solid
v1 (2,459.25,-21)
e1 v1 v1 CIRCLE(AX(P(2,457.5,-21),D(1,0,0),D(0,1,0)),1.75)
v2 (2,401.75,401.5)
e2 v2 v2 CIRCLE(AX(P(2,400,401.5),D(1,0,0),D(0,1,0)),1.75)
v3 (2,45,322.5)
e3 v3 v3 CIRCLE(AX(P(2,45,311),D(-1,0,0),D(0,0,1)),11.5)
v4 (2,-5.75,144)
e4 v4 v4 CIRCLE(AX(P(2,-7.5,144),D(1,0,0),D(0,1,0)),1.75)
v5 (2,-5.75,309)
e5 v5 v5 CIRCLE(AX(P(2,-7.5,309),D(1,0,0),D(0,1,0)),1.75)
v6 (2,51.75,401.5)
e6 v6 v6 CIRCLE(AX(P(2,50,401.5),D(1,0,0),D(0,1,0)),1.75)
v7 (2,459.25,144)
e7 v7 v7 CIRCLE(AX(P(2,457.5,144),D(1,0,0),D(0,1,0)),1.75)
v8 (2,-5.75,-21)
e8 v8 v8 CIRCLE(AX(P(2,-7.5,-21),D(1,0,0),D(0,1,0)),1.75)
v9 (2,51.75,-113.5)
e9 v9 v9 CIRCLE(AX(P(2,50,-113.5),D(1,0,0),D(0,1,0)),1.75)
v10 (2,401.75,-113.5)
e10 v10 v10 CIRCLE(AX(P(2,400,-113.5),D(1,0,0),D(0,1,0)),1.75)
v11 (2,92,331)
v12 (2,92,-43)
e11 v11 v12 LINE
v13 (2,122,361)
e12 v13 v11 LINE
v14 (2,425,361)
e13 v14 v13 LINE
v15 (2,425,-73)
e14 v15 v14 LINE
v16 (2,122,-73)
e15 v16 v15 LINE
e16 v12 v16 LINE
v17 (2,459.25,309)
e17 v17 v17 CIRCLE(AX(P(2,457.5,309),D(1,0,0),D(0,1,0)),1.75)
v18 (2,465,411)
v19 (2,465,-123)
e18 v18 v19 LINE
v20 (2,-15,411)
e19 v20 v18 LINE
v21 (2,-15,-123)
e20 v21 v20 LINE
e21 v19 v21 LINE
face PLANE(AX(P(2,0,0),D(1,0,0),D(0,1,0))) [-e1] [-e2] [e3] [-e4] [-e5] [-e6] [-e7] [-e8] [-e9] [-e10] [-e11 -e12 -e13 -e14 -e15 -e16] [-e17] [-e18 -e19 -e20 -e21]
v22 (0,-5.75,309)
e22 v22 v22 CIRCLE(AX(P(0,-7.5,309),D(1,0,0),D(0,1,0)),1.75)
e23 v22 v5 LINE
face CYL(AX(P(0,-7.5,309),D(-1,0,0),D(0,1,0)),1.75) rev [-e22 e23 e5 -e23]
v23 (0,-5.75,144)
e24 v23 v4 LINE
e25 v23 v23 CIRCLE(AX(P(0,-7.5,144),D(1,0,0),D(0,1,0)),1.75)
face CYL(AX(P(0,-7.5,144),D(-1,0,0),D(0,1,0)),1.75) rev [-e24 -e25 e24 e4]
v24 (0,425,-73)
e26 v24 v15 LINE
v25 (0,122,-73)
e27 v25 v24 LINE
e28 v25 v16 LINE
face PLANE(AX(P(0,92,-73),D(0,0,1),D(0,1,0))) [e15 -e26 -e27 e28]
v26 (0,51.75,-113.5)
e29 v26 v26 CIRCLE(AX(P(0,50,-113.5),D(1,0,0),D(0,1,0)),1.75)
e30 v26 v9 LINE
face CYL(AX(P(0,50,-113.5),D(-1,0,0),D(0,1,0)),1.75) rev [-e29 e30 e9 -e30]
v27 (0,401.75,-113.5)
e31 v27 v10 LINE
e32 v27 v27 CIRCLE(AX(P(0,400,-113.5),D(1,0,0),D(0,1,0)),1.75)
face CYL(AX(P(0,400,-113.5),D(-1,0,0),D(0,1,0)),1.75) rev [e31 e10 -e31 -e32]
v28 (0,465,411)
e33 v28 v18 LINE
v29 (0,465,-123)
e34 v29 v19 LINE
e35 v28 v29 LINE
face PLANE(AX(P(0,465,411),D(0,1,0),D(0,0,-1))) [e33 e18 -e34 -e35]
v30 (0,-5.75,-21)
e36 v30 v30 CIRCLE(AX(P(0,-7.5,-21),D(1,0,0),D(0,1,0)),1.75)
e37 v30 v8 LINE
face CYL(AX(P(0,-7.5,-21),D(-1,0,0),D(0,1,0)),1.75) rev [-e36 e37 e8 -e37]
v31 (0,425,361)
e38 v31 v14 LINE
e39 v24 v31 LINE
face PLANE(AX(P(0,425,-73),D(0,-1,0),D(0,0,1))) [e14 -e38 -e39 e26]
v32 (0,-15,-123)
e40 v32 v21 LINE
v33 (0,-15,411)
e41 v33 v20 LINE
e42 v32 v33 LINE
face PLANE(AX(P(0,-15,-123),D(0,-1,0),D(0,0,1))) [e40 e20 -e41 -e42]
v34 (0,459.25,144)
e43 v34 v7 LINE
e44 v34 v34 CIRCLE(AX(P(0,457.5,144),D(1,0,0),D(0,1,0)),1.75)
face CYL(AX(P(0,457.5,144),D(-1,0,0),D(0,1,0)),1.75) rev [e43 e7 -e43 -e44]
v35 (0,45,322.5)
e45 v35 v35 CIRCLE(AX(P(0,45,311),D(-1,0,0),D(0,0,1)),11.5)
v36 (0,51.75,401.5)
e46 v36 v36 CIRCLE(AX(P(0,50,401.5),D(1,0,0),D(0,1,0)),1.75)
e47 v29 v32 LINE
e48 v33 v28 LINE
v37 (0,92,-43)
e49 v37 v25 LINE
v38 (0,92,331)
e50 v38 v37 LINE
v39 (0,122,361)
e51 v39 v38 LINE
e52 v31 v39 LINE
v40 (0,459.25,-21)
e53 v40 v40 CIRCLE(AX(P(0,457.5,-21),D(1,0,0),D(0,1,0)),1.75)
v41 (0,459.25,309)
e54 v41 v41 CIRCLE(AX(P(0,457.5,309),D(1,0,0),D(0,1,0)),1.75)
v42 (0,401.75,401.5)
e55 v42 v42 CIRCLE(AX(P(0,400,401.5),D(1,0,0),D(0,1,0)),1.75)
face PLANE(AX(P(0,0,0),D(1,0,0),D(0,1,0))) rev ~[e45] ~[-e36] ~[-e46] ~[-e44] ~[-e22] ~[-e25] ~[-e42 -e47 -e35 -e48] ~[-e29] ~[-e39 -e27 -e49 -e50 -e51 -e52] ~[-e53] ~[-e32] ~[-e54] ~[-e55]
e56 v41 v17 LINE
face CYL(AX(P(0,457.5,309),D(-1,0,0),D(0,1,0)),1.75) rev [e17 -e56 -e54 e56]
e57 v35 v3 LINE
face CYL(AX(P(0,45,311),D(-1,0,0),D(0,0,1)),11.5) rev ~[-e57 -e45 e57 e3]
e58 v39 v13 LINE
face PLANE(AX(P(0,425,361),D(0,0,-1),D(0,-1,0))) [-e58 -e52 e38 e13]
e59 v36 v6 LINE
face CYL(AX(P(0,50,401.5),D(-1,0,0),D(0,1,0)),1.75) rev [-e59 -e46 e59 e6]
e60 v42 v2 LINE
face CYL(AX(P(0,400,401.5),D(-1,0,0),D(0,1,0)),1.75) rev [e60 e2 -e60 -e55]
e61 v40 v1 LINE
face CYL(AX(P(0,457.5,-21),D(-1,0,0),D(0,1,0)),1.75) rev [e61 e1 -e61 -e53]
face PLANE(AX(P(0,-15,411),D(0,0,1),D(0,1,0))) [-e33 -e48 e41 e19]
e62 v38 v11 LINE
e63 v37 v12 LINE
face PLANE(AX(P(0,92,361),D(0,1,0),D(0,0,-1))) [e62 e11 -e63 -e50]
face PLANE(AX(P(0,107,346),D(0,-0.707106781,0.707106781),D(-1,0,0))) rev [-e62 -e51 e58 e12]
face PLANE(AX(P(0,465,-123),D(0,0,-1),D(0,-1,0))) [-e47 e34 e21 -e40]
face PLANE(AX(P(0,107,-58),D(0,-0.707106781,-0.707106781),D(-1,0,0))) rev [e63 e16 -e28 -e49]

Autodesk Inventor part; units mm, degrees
ref_plane "YZ Plane" through (0, 0, 0) normal (1, 0, 0) x (0, 1, 0)
ref_plane "XZ Plane" through (0, 0, 0) normal (0, 1, 0) x (-1, 0, 0)
ref_plane "XY Plane" through (0, 0, 0) normal (0, 0, 1) x (1, 0, 0)
sketch "Sketch1" plane through (0, 0, 0) normal (1, 0, 0) x (0, 1, 0)
  line L0 (465, 411) -> (465, -123) projected
  line L1 (465, -123) -> (-15, -123) projected
  line L2 (-15, -123) -> (-15, 411) projected
  line L3 (-15, 411) -> (465, 411) projected
  circle A0 centre (400, -113.5) radius 1.75 projected
  circle A1 centre (50, 401.5) radius 1.75 projected
  circle A2 centre (400, 401.5) radius 1.75 projected
  circle A3 centre (-7.5, -21) radius 1.75 projected
  circle A4 centre (-7.5, 144) radius 1.75 projected
  circle A5 centre (-7.5, 309) radius 1.75 projected
  circle A6 centre (457.5, 144) radius 1.75 projected
  circle A7 centre (457.5, -21) radius 1.75 projected
  circle A8 centre (457.5, 309) radius 1.75 projected
  circle A9 centre (50, -113.5) radius 1.75 projected
  circle A10 centre (408.5, -78.0001) radius 1.75 projected
  circle A11 centre (415.5, -88.0001) radius 1.75 projected
  circle A12 centre (408.5, -88.0001) radius 1.75 projected
  circle A13 centre (415.5, -78.0001) radius 1.75 projected
  line L4 (32, 375.1132) -> (32, 380.8868) projected
  line L5 (32, 380.8868) -> (27, 383.7735) projected
  line L6 (27, 383.7735) -> (22, 380.8868) projected
  line L7 (22, 380.8868) -> (22, 375.1132) projected
  line L8 (22, 375.1132) -> (27, 372.2265) projected
  line L9 (27, 372.2265) -> (32, 375.1132) projected
  line L10 (44.5, 367.8964) -> (44.5, 362.1229) projected
  line L11 (44.5, 362.1229) -> (49.5, 359.2361) projected
  line L12 (49.5, 359.2361) -> (54.5, 362.1229) projected
  line L13 (54.5, 362.1229) -> (54.5, 367.8964) projected
  line L14 (54.5, 367.8964) -> (49.5, 370.7831) projected
  line L15 (49.5, 370.7831) -> (44.5, 367.8964) projected
  line L16 (39.5, 336.1229) -> (39.5, 341.8964) projected
  line L17 (39.5, 341.8964) -> (34.5, 344.7831) projected
  line L18 (34.5, 344.7831) -> (29.5, 341.8964) projected
  line L19 (29.5, 341.8964) -> (29.5, 336.1229) projected
  line L20 (29.5, 336.1229) -> (34.5, 333.2361) projected
  line L21 (34.5, 333.2361) -> (39.5, 336.1229) projected
  line L22 (12, 331.7735) -> (7, 328.8868) projected
  line L23 (7, 328.8868) -> (7, 323.1132) projected
  line L24 (7, 323.1132) -> (12, 320.2265) projected
  line L25 (12, 320.2265) -> (17, 323.1132) projected
  line L26 (17, 323.1132) -> (17, 328.8868) projected
  line L27 (17, 328.8868) -> (12, 331.7735) projected
  line L28 (54.5, 315.8964) -> (49.5, 318.7831) projected
  line L29 (49.5, 318.7831) -> (44.5, 315.8964) projected
  line L30 (44.5, 315.8964) -> (44.5, 310.1229) projected
  line L31 (44.5, 310.1229) -> (49.5, 307.2361) projected
  line L32 (49.5, 307.2361) -> (54.5, 310.1229) projected
  line L33 (54.5, 310.1229) -> (54.5, 315.8964) projected
  line L34 (14.5, 310.1229) -> (19.5, 307.2361) projected
  line L35 (19.5, 307.2361) -> (24.5, 310.1229) projected
  line L36 (24.5, 310.1229) -> (24.5, 315.8964) projected
  line L37 (24.5, 315.8964) -> (19.5, 318.7831) projected
  line L38 (19.5, 318.7831) -> (14.5, 315.8964) projected
  line L39 (14.5, 315.8964) -> (14.5, 310.1229) projected
  line L40 (14.5, 284.1229) -> (19.5, 281.2361) projected
  line L41 (19.5, 281.2361) -> (24.5, 284.1229) projected
  line L42 (24.5, 284.1229) -> (24.5, 289.8964) projected
  line L43 (24.5, 289.8964) -> (19.5, 292.7831) projected
  line L44 (19.5, 292.7831) -> (14.5, 289.8964) projected
  line L45 (14.5, 289.8964) -> (14.5, 284.1229) projected
  line L46 (32, 276.8868) -> (27, 279.7735) projected
  line L47 (27, 279.7735) -> (22, 276.8868) projected
  line L48 (22, 276.8868) -> (22, 271.1132) projected
  line L49 (22, 271.1132) -> (27, 268.2265) projected
  line L50 (27, 268.2265) -> (32, 271.1132) projected
  line L51 (32, 271.1132) -> (32, 276.8868) projected
  line L52 (54.5, 263.8964) -> (49.5, 266.7831) projected
  line L53 (49.5, 266.7831) -> (44.5, 263.8964) projected
  line L54 (44.5, 263.8964) -> (44.5, 258.1229) projected
  line L55 (44.5, 258.1229) -> (49.5, 255.2361) projected
  line L56 (49.5, 255.2361) -> (54.5, 258.1229) projected
  line L57 (54.5, 258.1229) -> (54.5, 263.8964) projected
  line L58 (12, 253.7735) -> (7, 250.8868) projected
  line L59 (7, 250.8868) -> (7, 245.1132) projected
  line L60 (7, 245.1132) -> (12, 242.2265) projected
  line L61 (12, 242.2265) -> (17, 245.1132) projected
  line L62 (17, 245.1132) -> (17, 250.8868) projected
  line L63 (17, 250.8868) -> (12, 253.7735) projected
  line L64 (32, 224.8868) -> (27, 227.7735) projected
  line L65 (27, 227.7735) -> (22, 224.8868) projected
  line L66 (22, 224.8868) -> (22, 219.1132) projected
  line L67 (22, 219.1132) -> (27, 216.2265) projected
  line L68 (27, 216.2265) -> (32, 219.1132) projected
  line L69 (32, 219.1132) -> (32, 224.8868) projected
  line L70 (57, 227.7735) -> (52, 224.8868) projected
  line L71 (52, 224.8868) -> (52, 219.1132) projected
  line L72 (52, 219.1132) -> (57, 216.2265) projected
  line L73 (57, 216.2265) -> (62, 219.1132) projected
  line L74 (62, 219.1132) -> (62, 224.8868) projected
  line L75 (62, 224.8868) -> (57, 227.7735) projected
  line L76 (54.5, 185.8964) -> (49.5, 188.7831) projected
  line L77 (49.5, 188.7831) -> (44.5, 185.8964) projected
  line L78 (44.5, 185.8964) -> (44.5, 180.1229) projected
  line L79 (44.5, 180.1229) -> (49.5, 177.2361) projected
  line L80 (49.5, 177.2361) -> (54.5, 180.1229) projected
  line L81 (54.5, 180.1229) -> (54.5, 185.8964) projected
  line L82 (32, 198.8868) -> (27, 201.7735) projected
  line L83 (27, 201.7735) -> (22, 198.8868) projected
  line L84 (22, 198.8868) -> (22, 193.1132) projected
  line L85 (22, 193.1132) -> (27, 190.2265) projected
  line L86 (27, 190.2265) -> (32, 193.1132) projected
  line L87 (32, 193.1132) -> (32, 198.8868) projected
  line L88 (32, 172.8868) -> (27, 175.7735) projected
  line L89 (27, 175.7735) -> (22, 172.8868) projected
  line L90 (22, 172.8868) -> (22, 167.1132) projected
  line L91 (22, 167.1132) -> (27, 164.2265) projected
  line L92 (27, 164.2265) -> (32, 167.1132) projected
  line L93 (32, 167.1132) -> (32, 172.8868) projected
  line L94 (54.5, 159.8964) -> (49.5, 162.7831) projected
  line L95 (49.5, 162.7831) -> (44.5, 159.8964) projected
  line L96 (44.5, 159.8964) -> (44.5, 154.1229) projected
  line L97 (44.5, 154.1229) -> (49.5, 151.2361) projected
  line L98 (49.5, 151.2361) -> (54.5, 154.1229) projected
  line L99 (54.5, 154.1229) -> (54.5, 159.8964) projected
  line L100 (39.5, 128.1229) -> (39.5, 133.8964) projected
  line L101 (39.5, 133.8964) -> (34.5, 136.7831) projected
  line L102 (34.5, 136.7831) -> (29.5, 133.8964) projected
  line L103 (29.5, 133.8964) -> (29.5, 128.1229) projected
  line L104 (29.5, 128.1229) -> (34.5, 125.2361) projected
  line L105 (34.5, 125.2361) -> (39.5, 128.1229) projected
  line L106 (12, 123.7735) -> (7, 120.8868) projected
  line L107 (7, 120.8868) -> (7, 115.1132) projected
  line L108 (7, 115.1132) -> (12, 112.2265) projected
  line L109 (12, 112.2265) -> (17, 115.1132) projected
  line L110 (17, 115.1132) -> (17, 120.8868) projected
  line L111 (17, 120.8868) -> (12, 123.7735) projected
  line L112 (54.5, 107.8964) -> (49.5, 110.7831) projected
  line L113 (49.5, 110.7831) -> (44.5, 107.8964) projected
  line L114 (44.5, 107.8964) -> (44.5, 102.1229) projected
  line L115 (44.5, 102.1229) -> (49.5, 99.2361) projected
  line L116 (49.5, 99.2361) -> (54.5, 102.1229) projected
  line L117 (54.5, 102.1229) -> (54.5, 107.8964) projected
  line L118 (14.5, 102.1229) -> (19.5, 99.2361) projected
  line L119 (19.5, 99.2361) -> (24.5, 102.1229) projected
  line L120 (24.5, 102.1229) -> (24.5, 107.8964) projected
  line L121 (24.5, 107.8964) -> (19.5, 110.7831) projected
  line L122 (19.5, 110.7831) -> (14.5, 107.8964) projected
  line L123 (14.5, 107.8964) -> (14.5, 102.1229) projected
  line L124 (39.5, 76.1229) -> (39.5, 81.8964) projected
  line L125 (39.5, 81.8964) -> (34.5, 84.7831) projected
  line L126 (34.5, 84.7831) -> (29.5, 81.8964) projected
  line L127 (29.5, 81.8964) -> (29.5, 76.1229) projected
  line L128 (29.5, 76.1229) -> (34.5, 73.2361) projected
  line L129 (34.5, 73.2361) -> (39.5, 76.1229) projected
  line L130 (42, 71.7735) -> (37, 68.8868) projected
  line L131 (37, 68.8868) -> (37, 63.1132) projected
  line L132 (37, 63.1132) -> (42, 60.2265) projected
  line L133 (42, 60.2265) -> (47, 63.1132) projected
  line L134 (47, 63.1132) -> (47, 68.8868) projected
  line L135 (47, 68.8868) -> (42, 71.7735) projected
  line L136 (14.5, 50.1229) -> (19.5, 47.2361) projected
  line L137 (19.5, 47.2361) -> (24.5, 50.1229) projected
  line L138 (24.5, 50.1229) -> (24.5, 55.8964) projected
  line L139 (24.5, 55.8964) -> (19.5, 58.7831) projected
  line L140 (19.5, 58.7831) -> (14.5, 55.8964) projected
  line L141 (14.5, 55.8964) -> (14.5, 50.1229) projected
  line L142 (12, 45.7735) -> (7, 42.8868) projected
  line L143 (7, 42.8868) -> (7, 37.1132) projected
  line L144 (7, 37.1132) -> (12, 34.2265) projected
  line L145 (12, 34.2265) -> (17, 37.1132) projected
  line L146 (17, 37.1132) -> (17, 42.8868) projected
  line L147 (17, 42.8868) -> (12, 45.7735) projected
  line L148 (57, 19.7735) -> (52, 16.8868) projected
  line L149 (52, 16.8868) -> (52, 11.1132) projected
  line L150 (52, 11.1132) -> (57, 8.2265) projected
  line L151 (57, 8.2265) -> (62, 11.1132) projected
  line L152 (62, 11.1132) -> (62, 16.8868) projected
  line L153 (62, 16.8868) -> (57, 19.7735) projected
  line L154 (39.5, -1.8771) -> (39.5, 3.8964) projected
  line L155 (39.5, 3.8964) -> (34.5, 6.7831) projected
  line L156 (34.5, 6.7831) -> (29.5, 3.8964) projected
  line L157 (29.5, 3.8964) -> (29.5, -1.8771) projected
  line L158 (29.5, -1.8771) -> (34.5, -4.7639) projected
  line L159 (34.5, -4.7639) -> (39.5, -1.8771) projected
  line L160 (14.5, -1.8771) -> (19.5, -4.7639) projected
  line L161 (19.5, -4.7639) -> (24.5, -1.8771) projected
  line L162 (24.5, -1.8771) -> (24.5, 3.8964) projected
  line L163 (24.5, 3.8964) -> (19.5, 6.7831) projected
  line L164 (19.5, 6.7831) -> (14.5, 3.8964) projected
  line L165 (14.5, 3.8964) -> (14.5, -1.8771) projected
  line L166 (39.5, -27.8771) -> (39.5, -22.1036) projected
  line L167 (39.5, -22.1036) -> (34.5, -19.2169) projected
  line L168 (34.5, -19.2169) -> (29.5, -22.1036) projected
  line L169 (29.5, -22.1036) -> (29.5, -27.8771) projected
  line L170 (29.5, -27.8771) -> (34.5, -30.7639) projected
  line L171 (34.5, -30.7639) -> (39.5, -27.8771) projected
  line L172 (32, -35.1132) -> (27, -32.2265) projected
  line L173 (27, -32.2265) -> (22, -35.1132) projected
  line L174 (22, -35.1132) -> (22, -40.8868) projected
  line L175 (22, -40.8868) -> (27, -43.7735) projected
  line L176 (27, -43.7735) -> (32, -40.8868) projected
  line L177 (32, -40.8868) -> (32, -35.1132) projected
  line L178 (54.5, -48.1036) -> (49.5, -45.2169) projected
  line L179 (49.5, -45.2169) -> (44.5, -48.1036) projected
  line L180 (44.5, -48.1036) -> (44.5, -53.8771) projected
  line L181 (44.5, -53.8771) -> (49.5, -56.7639) projected
  line L182 (49.5, -56.7639) -> (54.5, -53.8771) projected
  line L183 (54.5, -53.8771) -> (54.5, -48.1036) projected
  line L184 (12, -58.2265) -> (7, -61.1132) projected
  line L185 (7, -61.1132) -> (7, -66.8868) projected
  line L186 (7, -66.8868) -> (12, -69.7735) projected
  line L187 (12, -69.7735) -> (17, -66.8868) projected
  line L188 (17, -66.8868) -> (17, -61.1132) projected
  line L189 (17, -61.1132) -> (12, -58.2265) projected
  line L190 (57, -84.2265) -> (52, -87.1132) projected
  line L191 (52, -87.1132) -> (52, -92.8868) projected
  line L192 (52, -92.8868) -> (57, -95.7735) projected
  line L193 (57, -95.7735) -> (62, -92.8868) projected
  line L194 (62, -92.8868) -> (62, -87.1132) projected
  line L195 (62, -87.1132) -> (57, -84.2265) projected
  line L196 (12, -84.2265) -> (7, -87.1132) projected
  line L197 (7, -87.1132) -> (7, -92.8868) projected
  line L198 (7, -92.8868) -> (12, -95.7735) projected
  line L199 (12, -95.7735) -> (17, -92.8868) projected
  line L200 (17, -92.8868) -> (17, -87.1132) projected
  line L201 (17, -87.1132) -> (12, -84.2265) projected
  line L202 (54.5, -74.1036) -> (49.5, -71.2169) projected
  line L203 (49.5, -71.2169) -> (44.5, -74.1036) projected
  line L204 (44.5, -74.1036) -> (44.5, -79.8771) projected
  line L205 (44.5, -79.8771) -> (49.5, -82.7639) projected
  line L206 (49.5, -82.7639) -> (54.5, -79.8771) projected
  line L207 (54.5, -79.8771) -> (54.5, -74.1036) projected
  line L208 (32, -61.1132) -> (27, -58.2265) projected
  line L209 (27, -58.2265) -> (22, -61.1132) projected
  line L210 (22, -61.1132) -> (22, -66.8868) projected
  line L211 (22, -66.8868) -> (27, -69.7735) projected
  line L212 (27, -69.7735) -> (32, -66.8868) projected
  line L213 (32, -66.8868) -> (32, -61.1132) projected
  line L214 (39.5, -53.8771) -> (39.5, -48.1036) projected
  line L215 (39.5, -48.1036) -> (34.5, -45.2169) projected
  line L216 (34.5, -45.2169) -> (29.5, -48.1036) projected
  line L217 (29.5, -48.1036) -> (29.5, -53.8771) projected
  line L218 (29.5, -53.8771) -> (34.5, -56.7639) projected
  line L219 (34.5, -56.7639) -> (39.5, -53.8771) projected
  line L220 (42, -32.2265) -> (37, -35.1132) projected
  line L221 (37, -35.1132) -> (37, -40.8868) projected
  line L222 (37, -40.8868) -> (42, -43.7735) projected
  line L223 (42, -43.7735) -> (47, -40.8868) projected
  line L224 (47, -40.8868) -> (47, -35.1132) projected
  line L225 (47, -35.1132) -> (42, -32.2265) projected
  line L226 (14.5, -27.8771) -> (19.5, -30.7639) projected
  line L227 (19.5, -30.7639) -> (24.5, -27.8771) projected
  line L228 (24.5, -27.8771) -> (24.5, -22.1036) projected
  line L229 (24.5, -22.1036) -> (19.5, -19.2169) projected
  line L230 (19.5, -19.2169) -> (14.5, -22.1036) projected
  line L231 (14.5, -22.1036) -> (14.5, -27.8771) projected
  line L232 (12, 19.7735) -> (7, 16.8868) projected
  line L233 (7, 16.8868) -> (7, 11.1132) projected
  line L234 (7, 11.1132) -> (12, 8.2265) projected
  line L235 (12, 8.2265) -> (17, 11.1132) projected
  line L236 (17, 11.1132) -> (17, 16.8868) projected
  line L237 (17, 16.8868) -> (12, 19.7735) projected
  line L238 (42, -6.2265) -> (37, -9.1132) projected
  line L239 (37, -9.1132) -> (37, -14.8868) projected
  line L240 (37, -14.8868) -> (42, -17.7735) projected
  line L241 (42, -17.7735) -> (47, -14.8868) projected
  line L242 (47, -14.8868) -> (47, -9.1132) projected
  line L243 (47, -9.1132) -> (42, -6.2265) projected
  line L244 (54.5, 29.8964) -> (49.5, 32.7831) projected
  line L245 (49.5, 32.7831) -> (44.5, 29.8964) projected
  line L246 (44.5, 29.8964) -> (44.5, 24.1229) projected
  line L247 (44.5, 24.1229) -> (49.5, 21.2361) projected
  line L248 (49.5, 21.2361) -> (54.5, 24.1229) projected
  line L249 (54.5, 24.1229) -> (54.5, 29.8964) projected
  line L250 (32, 42.8868) -> (27, 45.7735) projected
  line L251 (27, 45.7735) -> (22, 42.8868) projected
  line L252 (22, 42.8868) -> (22, 37.1132) projected
  line L253 (22, 37.1132) -> (27, 34.2265) projected
  line L254 (27, 34.2265) -> (32, 37.1132) projected
  line L255 (32, 37.1132) -> (32, 42.8868) projected
  line L256 (12, 71.7735) -> (7, 68.8868) projected
  line L257 (7, 68.8868) -> (7, 63.1132) projected
  line L258 (7, 63.1132) -> (12, 60.2265) projected
  line L259 (12, 60.2265) -> (17, 63.1132) projected
  line L260 (17, 63.1132) -> (17, 68.8868) projected
  line L261 (17, 68.8868) -> (12, 71.7735) projected
  line L262 (54.5, 55.8964) -> (49.5, 58.7831) projected
  line L263 (49.5, 58.7831) -> (44.5, 55.8964) projected
  line L264 (44.5, 55.8964) -> (44.5, 50.1229) projected
  line L265 (44.5, 50.1229) -> (49.5, 47.2361) projected
  line L266 (49.5, 47.2361) -> (54.5, 50.1229) projected
  line L267 (54.5, 50.1229) -> (54.5, 55.8964) projected
  line L268 (14.5, 76.1229) -> (19.5, 73.2361) projected
  line L269 (19.5, 73.2361) -> (24.5, 76.1229) projected
  line L270 (24.5, 76.1229) -> (24.5, 81.8964) projected
  line L271 (24.5, 81.8964) -> (19.5, 84.7831) projected
  line L272 (19.5, 84.7831) -> (14.5, 81.8964) projected
  line L273 (14.5, 81.8964) -> (14.5, 76.1229) projected
  line L274 (39.5, 102.1229) -> (39.5, 107.8964) projected
  line L275 (39.5, 107.8964) -> (34.5, 110.7831) projected
  line L276 (34.5, 110.7831) -> (29.5, 107.8964) projected
  line L277 (29.5, 107.8964) -> (29.5, 102.1229) projected
  line L278 (29.5, 102.1229) -> (34.5, 99.2361) projected
  line L279 (34.5, 99.2361) -> (39.5, 102.1229) projected
  line L280 (57, 123.7735) -> (52, 120.8868) projected
  line L281 (52, 120.8868) -> (52, 115.1132) projected
  line L282 (52, 115.1132) -> (57, 112.2265) projected
  line L283 (57, 112.2265) -> (62, 115.1132) projected
  line L284 (62, 115.1132) -> (62, 120.8868) projected
  line L285 (62, 120.8868) -> (57, 123.7735) projected
  line L286 (14.5, 128.1229) -> (19.5, 125.2361) projected
  line L287 (19.5, 125.2361) -> (24.5, 128.1229) projected
  line L288 (24.5, 128.1229) -> (24.5, 133.8964) projected
  line L289 (24.5, 133.8964) -> (19.5, 136.7831) projected
  line L290 (19.5, 136.7831) -> (14.5, 133.8964) projected
  line L291 (14.5, 133.8964) -> (14.5, 128.1229) projected
  line L292 (42, 149.7735) -> (37, 146.8868) projected
  line L293 (37, 146.8868) -> (37, 141.1132) projected
  line L294 (37, 141.1132) -> (42, 138.2265) projected
  line L295 (42, 138.2265) -> (47, 141.1132) projected
  line L296 (47, 141.1132) -> (47, 146.8868) projected
  line L297 (47, 146.8868) -> (42, 149.7735) projected
  line L298 (39.5, 154.1229) -> (39.5, 159.8964) projected
  line L299 (39.5, 159.8964) -> (34.5, 162.7831) projected
  line L300 (34.5, 162.7831) -> (29.5, 159.8964) projected
  line L301 (29.5, 159.8964) -> (29.5, 154.1229) projected
  line L302 (29.5, 154.1229) -> (34.5, 151.2361) projected
  line L303 (34.5, 151.2361) -> (39.5, 154.1229) projected
  line L304 (12, 201.7735) -> (7, 198.8868) projected
  line L305 (7, 198.8868) -> (7, 193.1132) projected
  line L306 (7, 193.1132) -> (12, 190.2265) projected
  line L307 (12, 190.2265) -> (17, 193.1132) projected
  line L308 (17, 193.1132) -> (17, 198.8868) projected
  line L309 (17, 198.8868) -> (12, 201.7735) projected
  line L310 (39.5, 180.1229) -> (39.5, 185.8964) projected
  line L311 (39.5, 185.8964) -> (34.5, 188.7831) projected
  line L312 (34.5, 188.7831) -> (29.5, 185.8964) projected
  line L313 (29.5, 185.8964) -> (29.5, 180.1229) projected
  line L314 (29.5, 180.1229) -> (34.5, 177.2361) projected
  line L315 (34.5, 177.2361) -> (39.5, 180.1229) projected
  line L316 (57, 201.7735) -> (52, 198.8868) projected
  line L317 (52, 198.8868) -> (52, 193.1132) projected
  line L318 (52, 193.1132) -> (57, 190.2265) projected
  line L319 (57, 190.2265) -> (62, 193.1132) projected
  line L320 (62, 193.1132) -> (62, 198.8868) projected
  line L321 (62, 198.8868) -> (57, 201.7735) projected
  line L322 (42, 227.7735) -> (37, 224.8868) projected
  line L323 (37, 224.8868) -> (37, 219.1132) projected
  line L324 (37, 219.1132) -> (42, 216.2265) projected
  line L325 (42, 216.2265) -> (47, 219.1132) projected
  line L326 (47, 219.1132) -> (47, 224.8868) projected
  line L327 (47, 224.8868) -> (42, 227.7735) projected
  line L328 (14.5, 232.1229) -> (19.5, 229.2361) projected
  line L329 (19.5, 229.2361) -> (24.5, 232.1229) projected
  line L330 (24.5, 232.1229) -> (24.5, 237.8964) projected
  line L331 (24.5, 237.8964) -> (19.5, 240.7831) projected
  line L332 (19.5, 240.7831) -> (14.5, 237.8964) projected
  line L333 (14.5, 237.8964) -> (14.5, 232.1229) projected
  line L334 (32, 250.8868) -> (27, 253.7735) projected
  line L335 (27, 253.7735) -> (22, 250.8868) projected
  line L336 (22, 250.8868) -> (22, 245.1132) projected
  line L337 (22, 245.1132) -> (27, 242.2265) projected
  line L338 (27, 242.2265) -> (32, 245.1132) projected
  line L339 (32, 245.1132) -> (32, 250.8868) projected
  line L340 (39.5, 258.1229) -> (39.5, 263.8964) projected
  line L341 (39.5, 263.8964) -> (34.5, 266.7831) projected
  line L342 (34.5, 266.7831) -> (29.5, 263.8964) projected
  line L343 (29.5, 263.8964) -> (29.5, 258.1229) projected
  line L344 (29.5, 258.1229) -> (34.5, 255.2361) projected
  line L345 (34.5, 255.2361) -> (39.5, 258.1229) projected
  line L346 (42, 279.7735) -> (37, 276.8868) projected
  line L347 (37, 276.8868) -> (37, 271.1132) projected
  line L348 (37, 271.1132) -> (42, 268.2265) projected
  line L349 (42, 268.2265) -> (47, 271.1132) projected
  line L350 (47, 271.1132) -> (47, 276.8868) projected
  line L351 (47, 276.8868) -> (42, 279.7735) projected
  line L352 (39.5, 284.1229) -> (39.5, 289.8964) projected
  line L353 (39.5, 289.8964) -> (34.5, 292.7831) projected
  line L354 (34.5, 292.7831) -> (29.5, 289.8964) projected
  line L355 (29.5, 289.8964) -> (29.5, 284.1229) projected
  line L356 (29.5, 284.1229) -> (34.5, 281.2361) projected
  line L357 (34.5, 281.2361) -> (39.5, 284.1229) projected
  line L358 (39.5, 310.1229) -> (39.5, 315.8964) projected
  line L359 (39.5, 315.8964) -> (34.5, 318.7831) projected
  line L360 (34.5, 318.7831) -> (29.5, 315.8964) projected
  line L361 (29.5, 315.8964) -> (29.5, 310.1229) projected
  line L362 (29.5, 310.1229) -> (34.5, 307.2361) projected
  line L363 (34.5, 307.2361) -> (39.5, 310.1229) projected
  line L364 (57, 331.7735) -> (52, 328.8868) projected
  line L365 (52, 328.8868) -> (52, 323.1132) projected
  line L366 (52, 323.1132) -> (57, 320.2265) projected
  line L367 (57, 320.2265) -> (62, 323.1132) projected
  line L368 (62, 323.1132) -> (62, 328.8868) projected
  line L369 (62, 328.8868) -> (57, 331.7735) projected
  line L370 (14.5, 336.1229) -> (19.5, 333.2361) projected
  line L371 (19.5, 333.2361) -> (24.5, 336.1229) projected
  line L372 (24.5, 336.1229) -> (24.5, 341.8964) projected
  line L373 (24.5, 341.8964) -> (19.5, 344.7831) projected
  line L374 (19.5, 344.7831) -> (14.5, 341.8964) projected
  line L375 (14.5, 341.8964) -> (14.5, 336.1229) projected
  line L376 (42, 357.7735) -> (37, 354.8868) projected
  line L377 (37, 354.8868) -> (37, 349.1132) projected
  line L378 (37, 349.1132) -> (42, 346.2265) projected
  line L379 (42, 346.2265) -> (47, 349.1132) projected
  line L380 (47, 349.1132) -> (47, 354.8868) projected
  line L381 (47, 354.8868) -> (42, 357.7735) projected
  line L382 (29.5, 367.8964) -> (29.5, 362.1229) projected
  line L383 (29.5, 362.1229) -> (34.5, 359.2361) projected
  line L384 (34.5, 359.2361) -> (39.5, 362.1229) projected
  line L385 (39.5, 362.1229) -> (39.5, 367.8964) projected
  line L386 (39.5, 367.8964) -> (34.5, 370.7831) projected
  line L387 (34.5, 370.7831) -> (29.5, 367.8964) projected
  line L388 (47, 380.8868) -> (42, 383.7735) projected
  line L389 (42, 383.7735) -> (37, 380.8868) projected
  line L390 (37, 380.8868) -> (37, 375.1132) projected
  line L391 (37, 375.1132) -> (42, 372.2265) projected
  line L392 (42, 372.2265) -> (47, 375.1132) projected
  line L393 (47, 375.1132) -> (47, 380.8868) projected
  line L394 (17, 380.8868) -> (12, 383.7735) projected
  line L395 (12, 383.7735) -> (7, 380.8868) projected
  line L396 (7, 380.8868) -> (7, 375.1132) projected
  line L397 (7, 375.1132) -> (12, 372.2265) projected
  line L398 (12, 372.2265) -> (17, 375.1132) projected
  line L399 (17, 375.1132) -> (17, 380.8868) projected
  line L400 (57, 357.7735) -> (52, 354.8868) projected
  line L401 (52, 354.8868) -> (52, 349.1132) projected
  line L402 (52, 349.1132) -> (57, 346.2265) projected
  line L403 (57, 346.2265) -> (62, 349.1132) projected
  line L404 (62, 349.1132) -> (62, 354.8868) projected
  line L405 (62, 354.8868) -> (57, 357.7735) projected
  line L406 (32, 354.8868) -> (27, 357.7735) projected
  line L407 (27, 357.7735) -> (22, 354.8868) projected
  line L408 (22, 354.8868) -> (22, 349.1132) projected
  line L409 (22, 349.1132) -> (27, 346.2265) projected
  line L410 (27, 346.2265) -> (32, 349.1132) projected
  line L411 (32, 349.1132) -> (32, 354.8868) projected
  line L412 (32, 328.8868) -> (27, 331.7735) projected
  line L413 (27, 331.7735) -> (22, 328.8868) projected
  line L414 (22, 328.8868) -> (22, 323.1132) projected
  line L415 (22, 323.1132) -> (27, 320.2265) projected
  line L416 (27, 320.2265) -> (32, 323.1132) projected
  line L417 (32, 323.1132) -> (32, 328.8868) projected
  line L418 (57, 305.7735) -> (52, 302.8868) projected
  line L419 (52, 302.8868) -> (52, 297.1132) projected
  line L420 (52, 297.1132) -> (57, 294.2265) projected
  line L421 (57, 294.2265) -> (62, 297.1132) projected
  line L422 (62, 297.1132) -> (62, 302.8868) projected
  line L423 (62, 302.8868) -> (57, 305.7735) projected
  line L424 (12, 305.7735) -> (7, 302.8868) projected
  line L425 (7, 302.8868) -> (7, 297.1132) projected
  line L426 (7, 297.1132) -> (12, 294.2265) projected
  line L427 (12, 294.2265) -> (17, 297.1132) projected
  line L428 (17, 297.1132) -> (17, 302.8868) projected
  line L429 (17, 302.8868) -> (12, 305.7735) projected
  line L430 (54.5, 289.8964) -> (49.5, 292.7831) projected
  line L431 (49.5, 292.7831) -> (44.5, 289.8964) projected
  line L432 (44.5, 289.8964) -> (44.5, 284.1229) projected
  line L433 (44.5, 284.1229) -> (49.5, 281.2361) projected
  line L434 (49.5, 281.2361) -> (54.5, 284.1229) projected
  line L435 (54.5, 284.1229) -> (54.5, 289.8964) projected
  line L436 (12, 279.7735) -> (7, 276.8868) projected
  line L437 (7, 276.8868) -> (7, 271.1132) projected
  line L438 (7, 271.1132) -> (12, 268.2265) projected
  line L439 (12, 268.2265) -> (17, 271.1132) projected
  line L440 (17, 271.1132) -> (17, 276.8868) projected
  line L441 (17, 276.8868) -> (12, 279.7735) projected
  line L442 (57, 253.7735) -> (52, 250.8868) projected
  line L443 (52, 250.8868) -> (52, 245.1132) projected
  line L444 (52, 245.1132) -> (57, 242.2265) projected
  line L445 (57, 242.2265) -> (62, 245.1132) projected
  line L446 (62, 245.1132) -> (62, 250.8868) projected
  line L447 (62, 250.8868) -> (57, 253.7735) projected
  line L448 (54.5, 237.8964) -> (49.5, 240.7831) projected
  line L449 (49.5, 240.7831) -> (44.5, 237.8964) projected
  line L450 (44.5, 237.8964) -> (44.5, 232.1229) projected
  line L451 (44.5, 232.1229) -> (49.5, 229.2361) projected
  line L452 (49.5, 229.2361) -> (54.5, 232.1229) projected
  line L453 (54.5, 232.1229) -> (54.5, 237.8964) projected
  line L454 (14.5, 206.1229) -> (19.5, 203.2361) projected
  line L455 (19.5, 203.2361) -> (24.5, 206.1229) projected
  line L456 (24.5, 206.1229) -> (24.5, 211.8964) projected
  line L457 (24.5, 211.8964) -> (19.5, 214.7831) projected
  line L458 (19.5, 214.7831) -> (14.5, 211.8964) projected
  line L459 (14.5, 211.8964) -> (14.5, 206.1229) projected
  line L460 (54.5, 211.8964) -> (49.5, 214.7831) projected
  line L461 (49.5, 214.7831) -> (44.5, 211.8964) projected
  line L462 (44.5, 211.8964) -> (44.5, 206.1229) projected
  line L463 (44.5, 206.1229) -> (49.5, 203.2361) projected
  line L464 (49.5, 203.2361) -> (54.5, 206.1229) projected
  line L465 (54.5, 206.1229) -> (54.5, 211.8964) projected
  line L466 (57, 175.7735) -> (52, 172.8868) projected
  line L467 (52, 172.8868) -> (52, 167.1132) projected
  line L468 (52, 167.1132) -> (57, 164.2265) projected
  line L469 (57, 164.2265) -> (62, 167.1132) projected
  line L470 (62, 167.1132) -> (62, 172.8868) projected
  line L471 (62, 172.8868) -> (57, 175.7735) projected
  line L472 (42, 201.7735) -> (37, 198.8868) projected
  line L473 (37, 198.8868) -> (37, 193.1132) projected
  line L474 (37, 193.1132) -> (42, 190.2265) projected
  line L475 (42, 190.2265) -> (47, 193.1132) projected
  line L476 (47, 193.1132) -> (47, 198.8868) projected
  line L477 (47, 198.8868) -> (42, 201.7735) projected
  line L478 (12, 175.7735) -> (7, 172.8868) projected
  line L479 (7, 172.8868) -> (7, 167.1132) projected
  line L480 (7, 167.1132) -> (12, 164.2265) projected
  line L481 (12, 164.2265) -> (17, 167.1132) projected
  line L482 (17, 167.1132) -> (17, 172.8868) projected
  line L483 (17, 172.8868) -> (12, 175.7735) projected
  line L484 (57, 149.7735) -> (52, 146.8868) projected
  line L485 (52, 146.8868) -> (52, 141.1132) projected
  line L486 (52, 141.1132) -> (57, 138.2265) projected
  line L487 (57, 138.2265) -> (62, 141.1132) projected
  line L488 (62, 141.1132) -> (62, 146.8868) projected
  line L489 (62, 146.8868) -> (57, 149.7735) projected
  line L490 (32, 146.8868) -> (27, 149.7735) projected
  line L491 (27, 149.7735) -> (22, 146.8868) projected
  line L492 (22, 146.8868) -> (22, 141.1132) projected
  line L493 (22, 141.1132) -> (27, 138.2265) projected
  line L494 (27, 138.2265) -> (32, 141.1132) projected
  line L495 (32, 141.1132) -> (32, 146.8868) projected
  line L496 (32, 120.8868) -> (27, 123.7735) projected
  line L497 (27, 123.7735) -> (22, 120.8868) projected
  line L498 (22, 120.8868) -> (22, 115.1132) projected
  line L499 (22, 115.1132) -> (27, 112.2265) projected
  line L500 (27, 112.2265) -> (32, 115.1132) projected
  line L501 (32, 115.1132) -> (32, 120.8868) projected
  line L502 (57, 97.7735) -> (52, 94.8868) projected
  line L503 (52, 94.8868) -> (52, 89.1132) projected
  line L504 (52, 89.1132) -> (57, 86.2265) projected
  line L505 (57, 86.2265) -> (62, 89.1132) projected
  line L506 (62, 89.1132) -> (62, 94.8868) projected
  line L507 (62, 94.8868) -> (57, 97.7735) projected
  line L508 (32, 94.8868) -> (27, 97.7735) projected
  line L509 (27, 97.7735) -> (22, 94.8868) projected
  line L510 (22, 94.8868) -> (22, 89.1132) projected
  line L511 (22, 89.1132) -> (27, 86.2265) projected
  line L512 (27, 86.2265) -> (32, 89.1132) projected
  line L513 (32, 89.1132) -> (32, 94.8868) projected
  line L514 (54.5, 81.8964) -> (49.5, 84.7831) projected
  line L515 (49.5, 84.7831) -> (44.5, 81.8964) projected
  line L516 (44.5, 81.8964) -> (44.5, 76.1229) projected
  line L517 (44.5, 76.1229) -> (49.5, 73.2361) projected
  line L518 (49.5, 73.2361) -> (54.5, 76.1229) projected
  line L519 (54.5, 76.1229) -> (54.5, 81.8964) projected
  line L520 (39.5, 50.1229) -> (39.5, 55.8964) projected
  line L521 (39.5, 55.8964) -> (34.5, 58.7831) projected
  line L522 (34.5, 58.7831) -> (29.5, 55.8964) projected
  line L523 (29.5, 55.8964) -> (29.5, 50.1229) projected
  line L524 (29.5, 50.1229) -> (34.5, 47.2361) projected
  line L525 (34.5, 47.2361) -> (39.5, 50.1229) projected
  line L526 (57, 45.7735) -> (52, 42.8868) projected
  line L527 (52, 42.8868) -> (52, 37.1132) projected
  line L528 (52, 37.1132) -> (57, 34.2265) projected
  line L529 (57, 34.2265) -> (62, 37.1132) projected
  line L530 (62, 37.1132) -> (62, 42.8868) projected
  line L531 (62, 42.8868) -> (57, 45.7735) projected
  line L532 (14.5, 24.1229) -> (19.5, 21.2361) projected
  line L533 (19.5, 21.2361) -> (24.5, 24.1229) projected
  line L534 (24.5, 24.1229) -> (24.5, 29.8964) projected
  line L535 (24.5, 29.8964) -> (19.5, 32.7831) projected
  line L536 (19.5, 32.7831) -> (14.5, 29.8964) projected
  line L537 (14.5, 29.8964) -> (14.5, 24.1229) projected
  line L538 (54.5, 3.8964) -> (49.5, 6.7831) projected
  line L539 (49.5, 6.7831) -> (44.5, 3.8964) projected
  line L540 (44.5, 3.8964) -> (44.5, -1.8771) projected
  line L541 (44.5, -1.8771) -> (49.5, -4.7639) projected
  line L542 (49.5, -4.7639) -> (54.5, -1.8771) projected
  line L543 (54.5, -1.8771) -> (54.5, 3.8964) projected
  line L544 (32, 16.8868) -> (27, 19.7735) projected
  line L545 (27, 19.7735) -> (22, 16.8868) projected
  line L546 (22, 16.8868) -> (22, 11.1132) projected
  line L547 (22, 11.1132) -> (27, 8.2265) projected
  line L548 (27, 8.2265) -> (32, 11.1132) projected
  line L549 (32, 11.1132) -> (32, 16.8868) projected
  line L550 (32, -9.1132) -> (27, -6.2265) projected
  line L551 (27, -6.2265) -> (22, -9.1132) projected
  line L552 (22, -9.1132) -> (22, -14.8868) projected
  line L553 (22, -14.8868) -> (27, -17.7735) projected
  line L554 (27, -17.7735) -> (32, -14.8868) projected
  line L555 (32, -14.8868) -> (32, -9.1132) projected
  line L556 (54.5, -22.1036) -> (49.5, -19.2169) projected
  line L557 (49.5, -19.2169) -> (44.5, -22.1036) projected
  line L558 (44.5, -22.1036) -> (44.5, -27.8771) projected
  line L559 (44.5, -27.8771) -> (49.5, -30.7639) projected
  line L560 (49.5, -30.7639) -> (54.5, -27.8771) projected
  line L561 (54.5, -27.8771) -> (54.5, -22.1036) projected
  line L562 (12, -32.2265) -> (7, -35.1132) projected
  line L563 (7, -35.1132) -> (7, -40.8868) projected
  line L564 (7, -40.8868) -> (12, -43.7735) projected
  line L565 (12, -43.7735) -> (17, -40.8868) projected
  line L566 (17, -40.8868) -> (17, -35.1132) projected
  line L567 (17, -35.1132) -> (12, -32.2265) projected
  line L568 (57, -58.2265) -> (52, -61.1132) projected
  line L569 (52, -61.1132) -> (52, -66.8868) projected
  line L570 (52, -66.8868) -> (57, -69.7735) projected
  line L571 (57, -69.7735) -> (62, -66.8868) projected
  line L572 (62, -66.8868) -> (62, -61.1132) projected
  line L573 (62, -61.1132) -> (57, -58.2265) projected
  line L574 (14.5, -79.8771) -> (19.5, -82.7639) projected
  line L575 (19.5, -82.7639) -> (24.5, -79.8771) projected
  line L576 (24.5, -79.8771) -> (24.5, -74.1036) projected
  line L577 (24.5, -74.1036) -> (19.5, -71.2169) projected
  line L578 (19.5, -71.2169) -> (14.5, -74.1036) projected
  line L579 (14.5, -74.1036) -> (14.5, -79.8771) projected
  line L580 (42, -84.2265) -> (37, -87.1132) projected
  line L581 (37, -87.1132) -> (37, -92.8868) projected
  line L582 (37, -92.8868) -> (42, -95.7735) projected
  line L583 (42, -95.7735) -> (47, -92.8868) projected
  line L584 (47, -92.8868) -> (47, -87.1132) projected
  line L585 (47, -87.1132) -> (42, -84.2265) projected
  line L586 (32, -87.1132) -> (27, -84.2265) projected
  line L587 (27, -84.2265) -> (22, -87.1132) projected
  line L588 (22, -87.1132) -> (22, -92.8868) projected
  line L589 (22, -92.8868) -> (27, -95.7735) projected
  line L590 (27, -95.7735) -> (32, -92.8868) projected
  line L591 (32, -92.8868) -> (32, -87.1132) projected
  line L592 (39.5, -79.8771) -> (39.5, -74.1036) projected
  line L593 (39.5, -74.1036) -> (34.5, -71.2169) projected
  line L594 (34.5, -71.2169) -> (29.5, -74.1036) projected
  line L595 (29.5, -74.1036) -> (29.5, -79.8771) projected
  line L596 (29.5, -79.8771) -> (34.5, -82.7639) projected
  line L597 (34.5, -82.7639) -> (39.5, -79.8771) projected
  line L598 (42, -58.2265) -> (37, -61.1132) projected
  line L599 (37, -61.1132) -> (37, -66.8868) projected
  line L600 (37, -66.8868) -> (42, -69.7735) projected
  line L601 (42, -69.7735) -> (47, -66.8868) projected
  line L602 (47, -66.8868) -> (47, -61.1132) projected
  line L603 (47, -61.1132) -> (42, -58.2265) projected
  line L604 (14.5, -53.8771) -> (19.5, -56.7639) projected
  line L605 (19.5, -56.7639) -> (24.5, -53.8771) projected
  line L606 (24.5, -53.8771) -> (24.5, -48.1036) projected
  line L607 (24.5, -48.1036) -> (19.5, -45.2169) projected
  line L608 (19.5, -45.2169) -> (14.5, -48.1036) projected
  line L609 (14.5, -48.1036) -> (14.5, -53.8771) projected
  line L610 (57, -32.2265) -> (52, -35.1132) projected
  line L611 (52, -35.1132) -> (52, -40.8868) projected
  line L612 (52, -40.8868) -> (57, -43.7735) projected
  line L613 (57, -43.7735) -> (62, -40.8868) projected
  line L614 (62, -40.8868) -> (62, -35.1132) projected
  line L615 (62, -35.1132) -> (57, -32.2265) projected
  line L616 (12, -6.2265) -> (7, -9.1132) projected
  line L617 (7, -9.1132) -> (7, -14.8868) projected
  line L618 (7, -14.8868) -> (12, -17.7735) projected
  line L619 (12, -17.7735) -> (17, -14.8868) projected
  line L620 (17, -14.8868) -> (17, -9.1132) projected
  line L621 (17, -9.1132) -> (12, -6.2265) projected
  line L622 (42, 19.7735) -> (37, 16.8868) projected
  line L623 (37, 16.8868) -> (37, 11.1132) projected
  line L624 (37, 11.1132) -> (42, 8.2265) projected
  line L625 (42, 8.2265) -> (47, 11.1132) projected
  line L626 (47, 11.1132) -> (47, 16.8868) projected
  line L627 (47, 16.8868) -> (42, 19.7735) projected
  line L628 (57, -6.2265) -> (52, -9.1132) projected
  line L629 (52, -9.1132) -> (52, -14.8868) projected
  line L630 (52, -14.8868) -> (57, -17.7735) projected
  line L631 (57, -17.7735) -> (62, -14.8868) projected
  line L632 (62, -14.8868) -> (62, -9.1132) projected
  line L633 (62, -9.1132) -> (57, -6.2265) projected
  line L634 (39.5, 24.1229) -> (39.5, 29.8964) projected
  line L635 (39.5, 29.8964) -> (34.5, 32.7831) projected
  line L636 (34.5, 32.7831) -> (29.5, 29.8964) projected
  line L637 (29.5, 29.8964) -> (29.5, 24.1229) projected
  line L638 (29.5, 24.1229) -> (34.5, 21.2361) projected
  line L639 (34.5, 21.2361) -> (39.5, 24.1229) projected
  line L640 (42, 45.7735) -> (37, 42.8868) projected
  line L641 (37, 42.8868) -> (37, 37.1132) projected
  line L642 (37, 37.1132) -> (42, 34.2265) projected
  line L643 (42, 34.2265) -> (47, 37.1132) projected
  line L644 (47, 37.1132) -> (47, 42.8868) projected
  line L645 (47, 42.8868) -> (42, 45.7735) projected
  line L646 (32, 68.8868) -> (27, 71.7735) projected
  line L647 (27, 71.7735) -> (22, 68.8868) projected
  line L648 (22, 68.8868) -> (22, 63.1132) projected
  line L649 (22, 63.1132) -> (27, 60.2265) projected
  line L650 (27, 60.2265) -> (32, 63.1132) projected
  line L651 (32, 63.1132) -> (32, 68.8868) projected
  line L652 (57, 71.7735) -> (52, 68.8868) projected
  line L653 (52, 68.8868) -> (52, 63.1132) projected
  line L654 (52, 63.1132) -> (57, 60.2265) projected
  line L655 (57, 60.2265) -> (62, 63.1132) projected
  line L656 (62, 63.1132) -> (62, 68.8868) projected
  line L657 (62, 68.8868) -> (57, 71.7735) projected
  line L658 (12, 97.7735) -> (7, 94.8868) projected
  line L659 (7, 94.8868) -> (7, 89.1132) projected
  line L660 (7, 89.1132) -> (12, 86.2265) projected
  line L661 (12, 86.2265) -> (17, 89.1132) projected
  line L662 (17, 89.1132) -> (17, 94.8868) projected
  line L663 (17, 94.8868) -> (12, 97.7735) projected
  line L664 (42, 97.7735) -> (37, 94.8868) projected
  line L665 (37, 94.8868) -> (37, 89.1132) projected
  line L666 (37, 89.1132) -> (42, 86.2265) projected
  line L667 (42, 86.2265) -> (47, 89.1132) projected
  line L668 (47, 89.1132) -> (47, 94.8868) projected
  line L669 (47, 94.8868) -> (42, 97.7735) projected
  line L670 (42, 123.7735) -> (37, 120.8868) projected
  line L671 (37, 120.8868) -> (37, 115.1132) projected
  line L672 (37, 115.1132) -> (42, 112.2265) projected
  line L673 (42, 112.2265) -> (47, 115.1132) projected
  line L674 (47, 115.1132) -> (47, 120.8868) projected
  line L675 (47, 120.8868) -> (42, 123.7735) projected
  line L676 (12, 149.7735) -> (7, 146.8868) projected
  line L677 (7, 146.8868) -> (7, 141.1132) projected
  line L678 (7, 141.1132) -> (12, 138.2265) projected
  line L679 (12, 138.2265) -> (17, 141.1132) projected
  line L680 (17, 141.1132) -> (17, 146.8868) projected
  line L681 (17, 146.8868) -> (12, 149.7735) projected
  line L682 (54.5, 133.8964) -> (49.5, 136.7831) projected
  line L683 (49.5, 136.7831) -> (44.5, 133.8964) projected
  line L684 (44.5, 133.8964) -> (44.5, 128.1229) projected
  line L685 (44.5, 128.1229) -> (49.5, 125.2361) projected
  line L686 (49.5, 125.2361) -> (54.5, 128.1229) projected
  line L687 (54.5, 128.1229) -> (54.5, 133.8964) projected
  line L688 (14.5, 154.1229) -> (19.5, 151.2361) projected
  line L689 (19.5, 151.2361) -> (24.5, 154.1229) projected
  line L690 (24.5, 154.1229) -> (24.5, 159.8964) projected
  line L691 (24.5, 159.8964) -> (19.5, 162.7831) projected
  line L692 (19.5, 162.7831) -> (14.5, 159.8964) projected
  line L693 (14.5, 159.8964) -> (14.5, 154.1229) projected
  line L694 (14.5, 180.1229) -> (19.5, 177.2361) projected
  line L695 (19.5, 177.2361) -> (24.5, 180.1229) projected
  line L696 (24.5, 180.1229) -> (24.5, 185.8964) projected
  line L697 (24.5, 185.8964) -> (19.5, 188.7831) projected
  line L698 (19.5, 188.7831) -> (14.5, 185.8964) projected
  line L699 (14.5, 185.8964) -> (14.5, 180.1229) projected
  line L700 (42, 175.7735) -> (37, 172.8868) projected
  line L701 (37, 172.8868) -> (37, 167.1132) projected
  line L702 (37, 167.1132) -> (42, 164.2265) projected
  line L703 (42, 164.2265) -> (47, 167.1132) projected
  line L704 (47, 167.1132) -> (47, 172.8868) projected
  line L705 (47, 172.8868) -> (42, 175.7735) projected
  line L706 (39.5, 206.1229) -> (39.5, 211.8964) projected
  line L707 (39.5, 211.8964) -> (34.5, 214.7831) projected
  line L708 (34.5, 214.7831) -> (29.5, 211.8964) projected
  line L709 (29.5, 211.8964) -> (29.5, 206.1229) projected
  line L710 (29.5, 206.1229) -> (34.5, 203.2361) projected
  line L711 (34.5, 203.2361) -> (39.5, 206.1229) projected
  line L712 (12, 227.7735) -> (7, 224.8868) projected
  line L713 (7, 224.8868) -> (7, 219.1132) projected
  line L714 (7, 219.1132) -> (12, 216.2265) projected
  line L715 (12, 216.2265) -> (17, 219.1132) projected
  line L716 (17, 219.1132) -> (17, 224.8868) projected
  line L717 (17, 224.8868) -> (12, 227.7735) projected
  line L718 (39.5, 232.1229) -> (39.5, 237.8964) projected
  line L719 (39.5, 237.8964) -> (34.5, 240.7831) projected
  line L720 (34.5, 240.7831) -> (29.5, 237.8964) projected
  line L721 (29.5, 237.8964) -> (29.5, 232.1229) projected
  line L722 (29.5, 232.1229) -> (34.5, 229.2361) projected
  line L723 (34.5, 229.2361) -> (39.5, 232.1229) projected
  line L724 (42, 253.7735) -> (37, 250.8868) projected
  line L725 (37, 250.8868) -> (37, 245.1132) projected
  line L726 (37, 245.1132) -> (42, 242.2265) projected
  line L727 (42, 242.2265) -> (47, 245.1132) projected
  line L728 (47, 245.1132) -> (47, 250.8868) projected
  line L729 (47, 250.8868) -> (42, 253.7735) projected
  line L730 (14.5, 258.1229) -> (19.5, 255.2361) projected
  line L731 (19.5, 255.2361) -> (24.5, 258.1229) projected
  line L732 (24.5, 258.1229) -> (24.5, 263.8964) projected
  line L733 (24.5, 263.8964) -> (19.5, 266.7831) projected
  line L734 (19.5, 266.7831) -> (14.5, 263.8964) projected
  line L735 (14.5, 263.8964) -> (14.5, 258.1229) projected
  line L736 (57, 279.7735) -> (52, 276.8868) projected
  line L737 (52, 276.8868) -> (52, 271.1132) projected
  line L738 (52, 271.1132) -> (57, 268.2265) projected
  line L739 (57, 268.2265) -> (62, 271.1132) projected
  line L740 (62, 271.1132) -> (62, 276.8868) projected
  line L741 (62, 276.8868) -> (57, 279.7735) projected
  line L742 (32, 302.8868) -> (27, 305.7735) projected
  line L743 (27, 305.7735) -> (22, 302.8868) projected
  line L744 (22, 302.8868) -> (22, 297.1132) projected
  line L745 (22, 297.1132) -> (27, 294.2265) projected
  line L746 (27, 294.2265) -> (32, 297.1132) projected
  line L747 (32, 297.1132) -> (32, 302.8868) projected
  line L748 (42, 305.7735) -> (37, 302.8868) projected
  line L749 (37, 302.8868) -> (37, 297.1132) projected
  line L750 (37, 297.1132) -> (42, 294.2265) projected
  line L751 (42, 294.2265) -> (47, 297.1132) projected
  line L752 (47, 297.1132) -> (47, 302.8868) projected
  line L753 (47, 302.8868) -> (42, 305.7735) projected
  line L754 (42, 331.7735) -> (37, 328.8868) projected
  line L755 (37, 328.8868) -> (37, 323.1132) projected
  line L756 (37, 323.1132) -> (42, 320.2265) projected
  line L757 (42, 320.2265) -> (47, 323.1132) projected
  line L758 (47, 323.1132) -> (47, 328.8868) projected
  line L759 (47, 328.8868) -> (42, 331.7735) projected
  line L760 (12, 357.7735) -> (7, 354.8868) projected
  line L761 (7, 354.8868) -> (7, 349.1132) projected
  line L762 (7, 349.1132) -> (12, 346.2265) projected
  line L763 (12, 346.2265) -> (17, 349.1132) projected
  line L764 (17, 349.1132) -> (17, 354.8868) projected
  line L765 (17, 354.8868) -> (12, 357.7735) projected
  line L766 (54.5, 341.8964) -> (49.5, 344.7831) projected
  line L767 (49.5, 344.7831) -> (44.5, 341.8964) projected
  line L768 (44.5, 341.8964) -> (44.5, 336.1229) projected
  line L769 (44.5, 336.1229) -> (49.5, 333.2361) projected
  line L770 (49.5, 333.2361) -> (54.5, 336.1229) projected
  line L771 (54.5, 336.1229) -> (54.5, 341.8964) projected
  line L772 (19.5, 359.2361) -> (24.5, 362.1229) projected
  line L773 (24.5, 362.1229) -> (24.5, 367.8964) projected
  line L774 (24.5, 367.8964) -> (19.5, 370.7831) projected
  line L775 (19.5, 370.7831) -> (14.5, 367.8964) projected
  line L776 (14.5, 367.8964) -> (14.5, 362.1229) projected
  line L777 (14.5, 362.1229) -> (19.5, 359.2361) projected
  line L778 (62, 380.8868) -> (57, 383.7735) projected
  line L779 (57, 383.7735) -> (52, 380.8868) projected
  line L780 (52, 380.8868) -> (52, 375.1132) projected
  line L781 (52, 375.1132) -> (57, 372.2265) projected
  line L782 (57, 372.2265) -> (62, 375.1132) projected
  line L783 (62, 375.1132) -> (62, 380.8868) projected
  point P0 (0, 0)
extrude "Extrusion1" add sketch "Sketch1" along normal blind 2 contours L0 L1 L2 L3 | A10 | A11 | A12 | A13 | L9 L8 L7 L6 L5 L4 | L15 L14 L13 L12 L11 L10 | L21 L20 L19 L18 L17 L16 | L27 L26 L25 L24 L23 L22 | L33 L32 L31 L30 L29 L28 | L39 L38 L37 L36 L35 L34 | L45 L44 L43 L42 L41 L40 | L51 L50 L49 L48 L47 L46 | L57 L56 L55 L54 L53 L52 | L63 L62 L61 L60 L59 L58 | L69 L68 L67 L66 L65 L64 | L75 L74 L73 L72 L71 L70 | L81 L80 L79 L78 L77 L76 | L87 L86 L85 L84 L83 L82 | L93 L92 L91 L90 L89 L88 | L99 L98 L97 L96 L95 L94 | L105 L104 L103 L102 L101 L100 | L111 L110 L109 L108 L107 L106 | L117 L116 L115 L114 L113 L112 | L123 L122 L121 L120 L119 L118 | L129 L128 L127 L126 L125 L124 | L135 L134 L133 L132 L131 L130 | L141 L140 L139 L138 L137 L136 | L147 L146 L145 L144 L143 L142 | L153 L152 L151 L150 L149 L148 | L159 L158 L157 L156 L155 L154 | L165 L164 L163 L162 L161 L160 | L171 L170 L169 L168 L167 L166 | L177 L176 L175 L174 L173 L172 | L183 L182 L181 L180 L179 L178 | L189 L188 L187 L186 L185 L184 | L195 L194 L193 L192 L191 L190 | L201 L200 L199 L198 L197 L196 | L207 L206 L205 L204 L203 L202 | L213 L212 L211 L210 L209 L208 | L219 L218 L217 L216 L215 L214 | L225 L224 L223 L222 L221 L220 | L231 L230 L229 L228 L227 L226 | L237 L236 L235 L234 L233 L232 | L243 L242 L241 L240 L239 L238 | L249 L248 L247 L246 L245 L244 | L255 L254 L253 L252 L251 L250 | L261 L260 L259 L258 L257 L256 | L267 L266 L265 L264 L263 L262 | L273 L272 L271 L270 L269 L268 | L279 L278 L277 L276 L275 L274 | L285 L284 L283 L282 L281 L280 | L291 L290 L289 L288 L287 L286 | L297 L296 L295 L294 L293 L292 | L303 L302 L301 L300 L299 L298 | L309 L308 L307 L306 L305 L304 | L315 L314 L313 L312 L311 L310 | L321 L320 L319 L318 L317 L316 | L327 L326 L325 L324 L323 L322 | L333 L332 L331 L330 L329 L328 | L339 L338 L337 L336 L335 L334 | L345 L344 L343 L342 L341 L340 | L351 L350 L349 L348 L347 L346 | L357 L356 L355 L354 L353 L352 | L363 L362 L361 L360 L359 L358 | L369 L368 L367 L366 L365 L364 | L375 L374 L373 L372 L371 L370 | L381 L380 L379 L378 L377 L376 | L387 L386 L385 L384 L383 L382 | L393 L392 L391 L390 L389 L388 | L399 L398 L397 L396 L395 L394 | L405 L404 L403 L402 L401 L400 | L411 L410 L409 L408 L407 L406 | L417 L416 L415 L414 L413 L412 | L423 L422 L421 L420 L419 L418 | L429 L428 L427 L426 L425 L424 | L435 L434 L433 L432 L431 L430 | L441 L440 L439 L438 L437 L436 | L447 L446 L445 L444 L443 L442 | L453 L452 L451 L450 L449 L448 | L459 L458 L457 L456 L455 L454 | L465 L464 L463 L462 L461 L460 | L471 L470 L469 L468 L467 L466 | L477 L476 L475 L474 L473 L472 | L483 L482 L481 L480 L479 L478 | L489 L488 L487 L486 L485 L484 | L495 L494 L493 L492 L491 L490 | L501 L500 L499 L498 L497 L496 | L507 L506 L505 L504 L503 L502 | L513 L512 L511 L510 L509 L508 | L519 L518 L517 L516 L515 L514 | L525 L524 L523 L522 L521 L520 | L531 L530 L529 L528 L527 L526 | L537 L536 L535 L534 L533 L532 | L543 L542 L541 L540 L539 L538 | L549 L548 L547 L546 L545 L544 | L555 L554 L553 L552 L551 L550 | L561 L560 L559 L558 L557 L556 | L567 L566 L565 L564 L563 L562 | L573 L572 L571 L570 L569 L568 | L579 L578 L577 L576 L575 L574 | L585 L584 L583 L582 L581 L580 | L591 L590 L589 L588 L587 L586 | L597 L596 L595 L594 L593 L592 | L603 L602 L601 L600 L599 L598 | L609 L608 L607 L606 L605 L604 | L615 L614 L613 L612 L611 L610 | L621 L620 L619 L618 L617 L616 | L627 L626 L625 L624 L623 L622 | L633 L632 L631 L630 L629 L628 | L639 L638 L637 L636 L635 L634 | L645 L644 L643 L642 L641 L640 | L651 L650 L649 L648 L647 L646 | L657 L656 L655 L654 L653 L652 | L663 L662 L661 L660 L659 L658 | L669 L668 L667 L666 L665 L664 | L675 L674 L673 L672 L671 L670 | L681 L680 L679 L678 L677 L676 | L687 L686 L685 L684 L683 L682 | L693 L692 L691 L690 L689 L688 | L699 L698 L697 L696 L695 L694 | L705 L704 L703 L702 L701 L700 | L711 L710 L709 L708 L707 L706 | L717 L716 L715 L714 L713 L712 | L723 L722 L721 L720 L719 L718 | L729 L728 L727 L726 L725 L724 | L735 L734 L733 L732 L731 L730 | L741 L740 L739 L738 L737 L736 | L747 L746 L745 L744 L743 L742 | L753 L752 L751 L750 L749 L748 | L759 L758 L757 L756 L755 L754 | L765 L764 L763 L762 L761 L760 | L771 L770 L769 L768 L767 L766 | L777 L776 L775 L774 L773 L772 | L783 L782 L781 L780 L779 L778
sketch "Sketch2" plane through (0, 0, 0) normal (-1, 0, 0) x (0, 0, 1)
  line L0 (411, -15) -> (-123, -15) projected
  line L1 (411, 465) -> (411, -15) projected
  line L2 (-123, 465) -> (411, 465) projected
  line L3 (-123, -15) -> (-123, 465) projected
  circle A0 centre (-113.5, 50) radius 1.75 projected
  circle A1 centre (-21, 457.5) radius 1.75 projected
  circle A2 centre (144, 457.5) radius 1.75 projected
  circle A3 centre (309, -7.5) radius 1.75 projected
  circle A4 centre (144, -7.5) radius 1.75 projected
  circle A5 centre (-21, -7.5) radius 1.75 projected
  circle A6 centre (401.5, 400) radius 1.75 projected
  circle A7 centre (401.5, 50) radius 1.75 projected
  circle A8 centre (-113.5, 400) radius 1.75 projected
  circle A9 centre (309, 457.5) radius 1.75 projected
  line L4 (-73, 425) -> (361, 425)
  line L5 (361, 425) -> (361, 92)
  line L6 (361, 92) -> (-73, 92)
  line L7 (-73, 92) -> (-73, 425)
  point P0 (0, 0)
  dimension "d2" = 50
  dimension "d3" = 50
  dimension "d4" = 40
  dimension "d5" = 107
extrude "Extrusion2" cut sketch "Sketch2" against normal blind 2 contours L4 L5 L6 L7
chamfer "Chamfer1" distance 30 angle 45 2 edges at (1, 92, -73) (1, 92, 361)
sketch "Sketch3" plane through (0, 0, 0) normal (-1, 0, 0) x (0, 0, 1)
  line L0 (361, 425) -> (361, 122) projected
  line L1 (331, 92) -> (361, 122) projected
  line L2 (331, 92) -> (-43, 92) projected
  line L3 (-73, 122) -> (-43, 92) projected
  line L4 (-73, 122) -> (-73, 425) projected
  line L5 (-73, 425) -> (361, 425) projected
  line L6 (411, -15) -> (-123, -15) projected
  line L7 (411, 465) -> (411, -15) projected
  line L8 (-123, 465) -> (411, 465) projected
  line L9 (-123, -15) -> (-123, 465) projected
  circle A0 centre (-113.5, 50) radius 1.75 projected
  circle A1 centre (-21, 457.5) radius 1.75 projected
  circle A2 centre (144, 457.5) radius 1.75 projected
  circle A3 centre (309, -7.5) radius 1.75 projected
  circle A4 centre (144, -7.5) radius 1.75 projected
  circle A5 centre (-21, -7.5) radius 1.75 projected
  circle A6 centre (401.5, 400) radius 1.75 projected
  circle A7 centre (401.5, 50) radius 1.75 projected
  circle A8 centre (-113.5, 400) radius 1.75 projected
  circle A9 centre (309, 457.5) radius 1.75 projected
  circle A10 centre (311, 45) radius 11.5
  point P0 (0, 0)
  dimension "d11" = 23
  dimension "d12" = 60
  dimension "d13" = 100
extrude "Extrusion3" cut sketch "Sketch3" against normal through all contours A10
equation "\"d3\" = d2"
properties part number "Front Panel" material "Aluminum 6061"
